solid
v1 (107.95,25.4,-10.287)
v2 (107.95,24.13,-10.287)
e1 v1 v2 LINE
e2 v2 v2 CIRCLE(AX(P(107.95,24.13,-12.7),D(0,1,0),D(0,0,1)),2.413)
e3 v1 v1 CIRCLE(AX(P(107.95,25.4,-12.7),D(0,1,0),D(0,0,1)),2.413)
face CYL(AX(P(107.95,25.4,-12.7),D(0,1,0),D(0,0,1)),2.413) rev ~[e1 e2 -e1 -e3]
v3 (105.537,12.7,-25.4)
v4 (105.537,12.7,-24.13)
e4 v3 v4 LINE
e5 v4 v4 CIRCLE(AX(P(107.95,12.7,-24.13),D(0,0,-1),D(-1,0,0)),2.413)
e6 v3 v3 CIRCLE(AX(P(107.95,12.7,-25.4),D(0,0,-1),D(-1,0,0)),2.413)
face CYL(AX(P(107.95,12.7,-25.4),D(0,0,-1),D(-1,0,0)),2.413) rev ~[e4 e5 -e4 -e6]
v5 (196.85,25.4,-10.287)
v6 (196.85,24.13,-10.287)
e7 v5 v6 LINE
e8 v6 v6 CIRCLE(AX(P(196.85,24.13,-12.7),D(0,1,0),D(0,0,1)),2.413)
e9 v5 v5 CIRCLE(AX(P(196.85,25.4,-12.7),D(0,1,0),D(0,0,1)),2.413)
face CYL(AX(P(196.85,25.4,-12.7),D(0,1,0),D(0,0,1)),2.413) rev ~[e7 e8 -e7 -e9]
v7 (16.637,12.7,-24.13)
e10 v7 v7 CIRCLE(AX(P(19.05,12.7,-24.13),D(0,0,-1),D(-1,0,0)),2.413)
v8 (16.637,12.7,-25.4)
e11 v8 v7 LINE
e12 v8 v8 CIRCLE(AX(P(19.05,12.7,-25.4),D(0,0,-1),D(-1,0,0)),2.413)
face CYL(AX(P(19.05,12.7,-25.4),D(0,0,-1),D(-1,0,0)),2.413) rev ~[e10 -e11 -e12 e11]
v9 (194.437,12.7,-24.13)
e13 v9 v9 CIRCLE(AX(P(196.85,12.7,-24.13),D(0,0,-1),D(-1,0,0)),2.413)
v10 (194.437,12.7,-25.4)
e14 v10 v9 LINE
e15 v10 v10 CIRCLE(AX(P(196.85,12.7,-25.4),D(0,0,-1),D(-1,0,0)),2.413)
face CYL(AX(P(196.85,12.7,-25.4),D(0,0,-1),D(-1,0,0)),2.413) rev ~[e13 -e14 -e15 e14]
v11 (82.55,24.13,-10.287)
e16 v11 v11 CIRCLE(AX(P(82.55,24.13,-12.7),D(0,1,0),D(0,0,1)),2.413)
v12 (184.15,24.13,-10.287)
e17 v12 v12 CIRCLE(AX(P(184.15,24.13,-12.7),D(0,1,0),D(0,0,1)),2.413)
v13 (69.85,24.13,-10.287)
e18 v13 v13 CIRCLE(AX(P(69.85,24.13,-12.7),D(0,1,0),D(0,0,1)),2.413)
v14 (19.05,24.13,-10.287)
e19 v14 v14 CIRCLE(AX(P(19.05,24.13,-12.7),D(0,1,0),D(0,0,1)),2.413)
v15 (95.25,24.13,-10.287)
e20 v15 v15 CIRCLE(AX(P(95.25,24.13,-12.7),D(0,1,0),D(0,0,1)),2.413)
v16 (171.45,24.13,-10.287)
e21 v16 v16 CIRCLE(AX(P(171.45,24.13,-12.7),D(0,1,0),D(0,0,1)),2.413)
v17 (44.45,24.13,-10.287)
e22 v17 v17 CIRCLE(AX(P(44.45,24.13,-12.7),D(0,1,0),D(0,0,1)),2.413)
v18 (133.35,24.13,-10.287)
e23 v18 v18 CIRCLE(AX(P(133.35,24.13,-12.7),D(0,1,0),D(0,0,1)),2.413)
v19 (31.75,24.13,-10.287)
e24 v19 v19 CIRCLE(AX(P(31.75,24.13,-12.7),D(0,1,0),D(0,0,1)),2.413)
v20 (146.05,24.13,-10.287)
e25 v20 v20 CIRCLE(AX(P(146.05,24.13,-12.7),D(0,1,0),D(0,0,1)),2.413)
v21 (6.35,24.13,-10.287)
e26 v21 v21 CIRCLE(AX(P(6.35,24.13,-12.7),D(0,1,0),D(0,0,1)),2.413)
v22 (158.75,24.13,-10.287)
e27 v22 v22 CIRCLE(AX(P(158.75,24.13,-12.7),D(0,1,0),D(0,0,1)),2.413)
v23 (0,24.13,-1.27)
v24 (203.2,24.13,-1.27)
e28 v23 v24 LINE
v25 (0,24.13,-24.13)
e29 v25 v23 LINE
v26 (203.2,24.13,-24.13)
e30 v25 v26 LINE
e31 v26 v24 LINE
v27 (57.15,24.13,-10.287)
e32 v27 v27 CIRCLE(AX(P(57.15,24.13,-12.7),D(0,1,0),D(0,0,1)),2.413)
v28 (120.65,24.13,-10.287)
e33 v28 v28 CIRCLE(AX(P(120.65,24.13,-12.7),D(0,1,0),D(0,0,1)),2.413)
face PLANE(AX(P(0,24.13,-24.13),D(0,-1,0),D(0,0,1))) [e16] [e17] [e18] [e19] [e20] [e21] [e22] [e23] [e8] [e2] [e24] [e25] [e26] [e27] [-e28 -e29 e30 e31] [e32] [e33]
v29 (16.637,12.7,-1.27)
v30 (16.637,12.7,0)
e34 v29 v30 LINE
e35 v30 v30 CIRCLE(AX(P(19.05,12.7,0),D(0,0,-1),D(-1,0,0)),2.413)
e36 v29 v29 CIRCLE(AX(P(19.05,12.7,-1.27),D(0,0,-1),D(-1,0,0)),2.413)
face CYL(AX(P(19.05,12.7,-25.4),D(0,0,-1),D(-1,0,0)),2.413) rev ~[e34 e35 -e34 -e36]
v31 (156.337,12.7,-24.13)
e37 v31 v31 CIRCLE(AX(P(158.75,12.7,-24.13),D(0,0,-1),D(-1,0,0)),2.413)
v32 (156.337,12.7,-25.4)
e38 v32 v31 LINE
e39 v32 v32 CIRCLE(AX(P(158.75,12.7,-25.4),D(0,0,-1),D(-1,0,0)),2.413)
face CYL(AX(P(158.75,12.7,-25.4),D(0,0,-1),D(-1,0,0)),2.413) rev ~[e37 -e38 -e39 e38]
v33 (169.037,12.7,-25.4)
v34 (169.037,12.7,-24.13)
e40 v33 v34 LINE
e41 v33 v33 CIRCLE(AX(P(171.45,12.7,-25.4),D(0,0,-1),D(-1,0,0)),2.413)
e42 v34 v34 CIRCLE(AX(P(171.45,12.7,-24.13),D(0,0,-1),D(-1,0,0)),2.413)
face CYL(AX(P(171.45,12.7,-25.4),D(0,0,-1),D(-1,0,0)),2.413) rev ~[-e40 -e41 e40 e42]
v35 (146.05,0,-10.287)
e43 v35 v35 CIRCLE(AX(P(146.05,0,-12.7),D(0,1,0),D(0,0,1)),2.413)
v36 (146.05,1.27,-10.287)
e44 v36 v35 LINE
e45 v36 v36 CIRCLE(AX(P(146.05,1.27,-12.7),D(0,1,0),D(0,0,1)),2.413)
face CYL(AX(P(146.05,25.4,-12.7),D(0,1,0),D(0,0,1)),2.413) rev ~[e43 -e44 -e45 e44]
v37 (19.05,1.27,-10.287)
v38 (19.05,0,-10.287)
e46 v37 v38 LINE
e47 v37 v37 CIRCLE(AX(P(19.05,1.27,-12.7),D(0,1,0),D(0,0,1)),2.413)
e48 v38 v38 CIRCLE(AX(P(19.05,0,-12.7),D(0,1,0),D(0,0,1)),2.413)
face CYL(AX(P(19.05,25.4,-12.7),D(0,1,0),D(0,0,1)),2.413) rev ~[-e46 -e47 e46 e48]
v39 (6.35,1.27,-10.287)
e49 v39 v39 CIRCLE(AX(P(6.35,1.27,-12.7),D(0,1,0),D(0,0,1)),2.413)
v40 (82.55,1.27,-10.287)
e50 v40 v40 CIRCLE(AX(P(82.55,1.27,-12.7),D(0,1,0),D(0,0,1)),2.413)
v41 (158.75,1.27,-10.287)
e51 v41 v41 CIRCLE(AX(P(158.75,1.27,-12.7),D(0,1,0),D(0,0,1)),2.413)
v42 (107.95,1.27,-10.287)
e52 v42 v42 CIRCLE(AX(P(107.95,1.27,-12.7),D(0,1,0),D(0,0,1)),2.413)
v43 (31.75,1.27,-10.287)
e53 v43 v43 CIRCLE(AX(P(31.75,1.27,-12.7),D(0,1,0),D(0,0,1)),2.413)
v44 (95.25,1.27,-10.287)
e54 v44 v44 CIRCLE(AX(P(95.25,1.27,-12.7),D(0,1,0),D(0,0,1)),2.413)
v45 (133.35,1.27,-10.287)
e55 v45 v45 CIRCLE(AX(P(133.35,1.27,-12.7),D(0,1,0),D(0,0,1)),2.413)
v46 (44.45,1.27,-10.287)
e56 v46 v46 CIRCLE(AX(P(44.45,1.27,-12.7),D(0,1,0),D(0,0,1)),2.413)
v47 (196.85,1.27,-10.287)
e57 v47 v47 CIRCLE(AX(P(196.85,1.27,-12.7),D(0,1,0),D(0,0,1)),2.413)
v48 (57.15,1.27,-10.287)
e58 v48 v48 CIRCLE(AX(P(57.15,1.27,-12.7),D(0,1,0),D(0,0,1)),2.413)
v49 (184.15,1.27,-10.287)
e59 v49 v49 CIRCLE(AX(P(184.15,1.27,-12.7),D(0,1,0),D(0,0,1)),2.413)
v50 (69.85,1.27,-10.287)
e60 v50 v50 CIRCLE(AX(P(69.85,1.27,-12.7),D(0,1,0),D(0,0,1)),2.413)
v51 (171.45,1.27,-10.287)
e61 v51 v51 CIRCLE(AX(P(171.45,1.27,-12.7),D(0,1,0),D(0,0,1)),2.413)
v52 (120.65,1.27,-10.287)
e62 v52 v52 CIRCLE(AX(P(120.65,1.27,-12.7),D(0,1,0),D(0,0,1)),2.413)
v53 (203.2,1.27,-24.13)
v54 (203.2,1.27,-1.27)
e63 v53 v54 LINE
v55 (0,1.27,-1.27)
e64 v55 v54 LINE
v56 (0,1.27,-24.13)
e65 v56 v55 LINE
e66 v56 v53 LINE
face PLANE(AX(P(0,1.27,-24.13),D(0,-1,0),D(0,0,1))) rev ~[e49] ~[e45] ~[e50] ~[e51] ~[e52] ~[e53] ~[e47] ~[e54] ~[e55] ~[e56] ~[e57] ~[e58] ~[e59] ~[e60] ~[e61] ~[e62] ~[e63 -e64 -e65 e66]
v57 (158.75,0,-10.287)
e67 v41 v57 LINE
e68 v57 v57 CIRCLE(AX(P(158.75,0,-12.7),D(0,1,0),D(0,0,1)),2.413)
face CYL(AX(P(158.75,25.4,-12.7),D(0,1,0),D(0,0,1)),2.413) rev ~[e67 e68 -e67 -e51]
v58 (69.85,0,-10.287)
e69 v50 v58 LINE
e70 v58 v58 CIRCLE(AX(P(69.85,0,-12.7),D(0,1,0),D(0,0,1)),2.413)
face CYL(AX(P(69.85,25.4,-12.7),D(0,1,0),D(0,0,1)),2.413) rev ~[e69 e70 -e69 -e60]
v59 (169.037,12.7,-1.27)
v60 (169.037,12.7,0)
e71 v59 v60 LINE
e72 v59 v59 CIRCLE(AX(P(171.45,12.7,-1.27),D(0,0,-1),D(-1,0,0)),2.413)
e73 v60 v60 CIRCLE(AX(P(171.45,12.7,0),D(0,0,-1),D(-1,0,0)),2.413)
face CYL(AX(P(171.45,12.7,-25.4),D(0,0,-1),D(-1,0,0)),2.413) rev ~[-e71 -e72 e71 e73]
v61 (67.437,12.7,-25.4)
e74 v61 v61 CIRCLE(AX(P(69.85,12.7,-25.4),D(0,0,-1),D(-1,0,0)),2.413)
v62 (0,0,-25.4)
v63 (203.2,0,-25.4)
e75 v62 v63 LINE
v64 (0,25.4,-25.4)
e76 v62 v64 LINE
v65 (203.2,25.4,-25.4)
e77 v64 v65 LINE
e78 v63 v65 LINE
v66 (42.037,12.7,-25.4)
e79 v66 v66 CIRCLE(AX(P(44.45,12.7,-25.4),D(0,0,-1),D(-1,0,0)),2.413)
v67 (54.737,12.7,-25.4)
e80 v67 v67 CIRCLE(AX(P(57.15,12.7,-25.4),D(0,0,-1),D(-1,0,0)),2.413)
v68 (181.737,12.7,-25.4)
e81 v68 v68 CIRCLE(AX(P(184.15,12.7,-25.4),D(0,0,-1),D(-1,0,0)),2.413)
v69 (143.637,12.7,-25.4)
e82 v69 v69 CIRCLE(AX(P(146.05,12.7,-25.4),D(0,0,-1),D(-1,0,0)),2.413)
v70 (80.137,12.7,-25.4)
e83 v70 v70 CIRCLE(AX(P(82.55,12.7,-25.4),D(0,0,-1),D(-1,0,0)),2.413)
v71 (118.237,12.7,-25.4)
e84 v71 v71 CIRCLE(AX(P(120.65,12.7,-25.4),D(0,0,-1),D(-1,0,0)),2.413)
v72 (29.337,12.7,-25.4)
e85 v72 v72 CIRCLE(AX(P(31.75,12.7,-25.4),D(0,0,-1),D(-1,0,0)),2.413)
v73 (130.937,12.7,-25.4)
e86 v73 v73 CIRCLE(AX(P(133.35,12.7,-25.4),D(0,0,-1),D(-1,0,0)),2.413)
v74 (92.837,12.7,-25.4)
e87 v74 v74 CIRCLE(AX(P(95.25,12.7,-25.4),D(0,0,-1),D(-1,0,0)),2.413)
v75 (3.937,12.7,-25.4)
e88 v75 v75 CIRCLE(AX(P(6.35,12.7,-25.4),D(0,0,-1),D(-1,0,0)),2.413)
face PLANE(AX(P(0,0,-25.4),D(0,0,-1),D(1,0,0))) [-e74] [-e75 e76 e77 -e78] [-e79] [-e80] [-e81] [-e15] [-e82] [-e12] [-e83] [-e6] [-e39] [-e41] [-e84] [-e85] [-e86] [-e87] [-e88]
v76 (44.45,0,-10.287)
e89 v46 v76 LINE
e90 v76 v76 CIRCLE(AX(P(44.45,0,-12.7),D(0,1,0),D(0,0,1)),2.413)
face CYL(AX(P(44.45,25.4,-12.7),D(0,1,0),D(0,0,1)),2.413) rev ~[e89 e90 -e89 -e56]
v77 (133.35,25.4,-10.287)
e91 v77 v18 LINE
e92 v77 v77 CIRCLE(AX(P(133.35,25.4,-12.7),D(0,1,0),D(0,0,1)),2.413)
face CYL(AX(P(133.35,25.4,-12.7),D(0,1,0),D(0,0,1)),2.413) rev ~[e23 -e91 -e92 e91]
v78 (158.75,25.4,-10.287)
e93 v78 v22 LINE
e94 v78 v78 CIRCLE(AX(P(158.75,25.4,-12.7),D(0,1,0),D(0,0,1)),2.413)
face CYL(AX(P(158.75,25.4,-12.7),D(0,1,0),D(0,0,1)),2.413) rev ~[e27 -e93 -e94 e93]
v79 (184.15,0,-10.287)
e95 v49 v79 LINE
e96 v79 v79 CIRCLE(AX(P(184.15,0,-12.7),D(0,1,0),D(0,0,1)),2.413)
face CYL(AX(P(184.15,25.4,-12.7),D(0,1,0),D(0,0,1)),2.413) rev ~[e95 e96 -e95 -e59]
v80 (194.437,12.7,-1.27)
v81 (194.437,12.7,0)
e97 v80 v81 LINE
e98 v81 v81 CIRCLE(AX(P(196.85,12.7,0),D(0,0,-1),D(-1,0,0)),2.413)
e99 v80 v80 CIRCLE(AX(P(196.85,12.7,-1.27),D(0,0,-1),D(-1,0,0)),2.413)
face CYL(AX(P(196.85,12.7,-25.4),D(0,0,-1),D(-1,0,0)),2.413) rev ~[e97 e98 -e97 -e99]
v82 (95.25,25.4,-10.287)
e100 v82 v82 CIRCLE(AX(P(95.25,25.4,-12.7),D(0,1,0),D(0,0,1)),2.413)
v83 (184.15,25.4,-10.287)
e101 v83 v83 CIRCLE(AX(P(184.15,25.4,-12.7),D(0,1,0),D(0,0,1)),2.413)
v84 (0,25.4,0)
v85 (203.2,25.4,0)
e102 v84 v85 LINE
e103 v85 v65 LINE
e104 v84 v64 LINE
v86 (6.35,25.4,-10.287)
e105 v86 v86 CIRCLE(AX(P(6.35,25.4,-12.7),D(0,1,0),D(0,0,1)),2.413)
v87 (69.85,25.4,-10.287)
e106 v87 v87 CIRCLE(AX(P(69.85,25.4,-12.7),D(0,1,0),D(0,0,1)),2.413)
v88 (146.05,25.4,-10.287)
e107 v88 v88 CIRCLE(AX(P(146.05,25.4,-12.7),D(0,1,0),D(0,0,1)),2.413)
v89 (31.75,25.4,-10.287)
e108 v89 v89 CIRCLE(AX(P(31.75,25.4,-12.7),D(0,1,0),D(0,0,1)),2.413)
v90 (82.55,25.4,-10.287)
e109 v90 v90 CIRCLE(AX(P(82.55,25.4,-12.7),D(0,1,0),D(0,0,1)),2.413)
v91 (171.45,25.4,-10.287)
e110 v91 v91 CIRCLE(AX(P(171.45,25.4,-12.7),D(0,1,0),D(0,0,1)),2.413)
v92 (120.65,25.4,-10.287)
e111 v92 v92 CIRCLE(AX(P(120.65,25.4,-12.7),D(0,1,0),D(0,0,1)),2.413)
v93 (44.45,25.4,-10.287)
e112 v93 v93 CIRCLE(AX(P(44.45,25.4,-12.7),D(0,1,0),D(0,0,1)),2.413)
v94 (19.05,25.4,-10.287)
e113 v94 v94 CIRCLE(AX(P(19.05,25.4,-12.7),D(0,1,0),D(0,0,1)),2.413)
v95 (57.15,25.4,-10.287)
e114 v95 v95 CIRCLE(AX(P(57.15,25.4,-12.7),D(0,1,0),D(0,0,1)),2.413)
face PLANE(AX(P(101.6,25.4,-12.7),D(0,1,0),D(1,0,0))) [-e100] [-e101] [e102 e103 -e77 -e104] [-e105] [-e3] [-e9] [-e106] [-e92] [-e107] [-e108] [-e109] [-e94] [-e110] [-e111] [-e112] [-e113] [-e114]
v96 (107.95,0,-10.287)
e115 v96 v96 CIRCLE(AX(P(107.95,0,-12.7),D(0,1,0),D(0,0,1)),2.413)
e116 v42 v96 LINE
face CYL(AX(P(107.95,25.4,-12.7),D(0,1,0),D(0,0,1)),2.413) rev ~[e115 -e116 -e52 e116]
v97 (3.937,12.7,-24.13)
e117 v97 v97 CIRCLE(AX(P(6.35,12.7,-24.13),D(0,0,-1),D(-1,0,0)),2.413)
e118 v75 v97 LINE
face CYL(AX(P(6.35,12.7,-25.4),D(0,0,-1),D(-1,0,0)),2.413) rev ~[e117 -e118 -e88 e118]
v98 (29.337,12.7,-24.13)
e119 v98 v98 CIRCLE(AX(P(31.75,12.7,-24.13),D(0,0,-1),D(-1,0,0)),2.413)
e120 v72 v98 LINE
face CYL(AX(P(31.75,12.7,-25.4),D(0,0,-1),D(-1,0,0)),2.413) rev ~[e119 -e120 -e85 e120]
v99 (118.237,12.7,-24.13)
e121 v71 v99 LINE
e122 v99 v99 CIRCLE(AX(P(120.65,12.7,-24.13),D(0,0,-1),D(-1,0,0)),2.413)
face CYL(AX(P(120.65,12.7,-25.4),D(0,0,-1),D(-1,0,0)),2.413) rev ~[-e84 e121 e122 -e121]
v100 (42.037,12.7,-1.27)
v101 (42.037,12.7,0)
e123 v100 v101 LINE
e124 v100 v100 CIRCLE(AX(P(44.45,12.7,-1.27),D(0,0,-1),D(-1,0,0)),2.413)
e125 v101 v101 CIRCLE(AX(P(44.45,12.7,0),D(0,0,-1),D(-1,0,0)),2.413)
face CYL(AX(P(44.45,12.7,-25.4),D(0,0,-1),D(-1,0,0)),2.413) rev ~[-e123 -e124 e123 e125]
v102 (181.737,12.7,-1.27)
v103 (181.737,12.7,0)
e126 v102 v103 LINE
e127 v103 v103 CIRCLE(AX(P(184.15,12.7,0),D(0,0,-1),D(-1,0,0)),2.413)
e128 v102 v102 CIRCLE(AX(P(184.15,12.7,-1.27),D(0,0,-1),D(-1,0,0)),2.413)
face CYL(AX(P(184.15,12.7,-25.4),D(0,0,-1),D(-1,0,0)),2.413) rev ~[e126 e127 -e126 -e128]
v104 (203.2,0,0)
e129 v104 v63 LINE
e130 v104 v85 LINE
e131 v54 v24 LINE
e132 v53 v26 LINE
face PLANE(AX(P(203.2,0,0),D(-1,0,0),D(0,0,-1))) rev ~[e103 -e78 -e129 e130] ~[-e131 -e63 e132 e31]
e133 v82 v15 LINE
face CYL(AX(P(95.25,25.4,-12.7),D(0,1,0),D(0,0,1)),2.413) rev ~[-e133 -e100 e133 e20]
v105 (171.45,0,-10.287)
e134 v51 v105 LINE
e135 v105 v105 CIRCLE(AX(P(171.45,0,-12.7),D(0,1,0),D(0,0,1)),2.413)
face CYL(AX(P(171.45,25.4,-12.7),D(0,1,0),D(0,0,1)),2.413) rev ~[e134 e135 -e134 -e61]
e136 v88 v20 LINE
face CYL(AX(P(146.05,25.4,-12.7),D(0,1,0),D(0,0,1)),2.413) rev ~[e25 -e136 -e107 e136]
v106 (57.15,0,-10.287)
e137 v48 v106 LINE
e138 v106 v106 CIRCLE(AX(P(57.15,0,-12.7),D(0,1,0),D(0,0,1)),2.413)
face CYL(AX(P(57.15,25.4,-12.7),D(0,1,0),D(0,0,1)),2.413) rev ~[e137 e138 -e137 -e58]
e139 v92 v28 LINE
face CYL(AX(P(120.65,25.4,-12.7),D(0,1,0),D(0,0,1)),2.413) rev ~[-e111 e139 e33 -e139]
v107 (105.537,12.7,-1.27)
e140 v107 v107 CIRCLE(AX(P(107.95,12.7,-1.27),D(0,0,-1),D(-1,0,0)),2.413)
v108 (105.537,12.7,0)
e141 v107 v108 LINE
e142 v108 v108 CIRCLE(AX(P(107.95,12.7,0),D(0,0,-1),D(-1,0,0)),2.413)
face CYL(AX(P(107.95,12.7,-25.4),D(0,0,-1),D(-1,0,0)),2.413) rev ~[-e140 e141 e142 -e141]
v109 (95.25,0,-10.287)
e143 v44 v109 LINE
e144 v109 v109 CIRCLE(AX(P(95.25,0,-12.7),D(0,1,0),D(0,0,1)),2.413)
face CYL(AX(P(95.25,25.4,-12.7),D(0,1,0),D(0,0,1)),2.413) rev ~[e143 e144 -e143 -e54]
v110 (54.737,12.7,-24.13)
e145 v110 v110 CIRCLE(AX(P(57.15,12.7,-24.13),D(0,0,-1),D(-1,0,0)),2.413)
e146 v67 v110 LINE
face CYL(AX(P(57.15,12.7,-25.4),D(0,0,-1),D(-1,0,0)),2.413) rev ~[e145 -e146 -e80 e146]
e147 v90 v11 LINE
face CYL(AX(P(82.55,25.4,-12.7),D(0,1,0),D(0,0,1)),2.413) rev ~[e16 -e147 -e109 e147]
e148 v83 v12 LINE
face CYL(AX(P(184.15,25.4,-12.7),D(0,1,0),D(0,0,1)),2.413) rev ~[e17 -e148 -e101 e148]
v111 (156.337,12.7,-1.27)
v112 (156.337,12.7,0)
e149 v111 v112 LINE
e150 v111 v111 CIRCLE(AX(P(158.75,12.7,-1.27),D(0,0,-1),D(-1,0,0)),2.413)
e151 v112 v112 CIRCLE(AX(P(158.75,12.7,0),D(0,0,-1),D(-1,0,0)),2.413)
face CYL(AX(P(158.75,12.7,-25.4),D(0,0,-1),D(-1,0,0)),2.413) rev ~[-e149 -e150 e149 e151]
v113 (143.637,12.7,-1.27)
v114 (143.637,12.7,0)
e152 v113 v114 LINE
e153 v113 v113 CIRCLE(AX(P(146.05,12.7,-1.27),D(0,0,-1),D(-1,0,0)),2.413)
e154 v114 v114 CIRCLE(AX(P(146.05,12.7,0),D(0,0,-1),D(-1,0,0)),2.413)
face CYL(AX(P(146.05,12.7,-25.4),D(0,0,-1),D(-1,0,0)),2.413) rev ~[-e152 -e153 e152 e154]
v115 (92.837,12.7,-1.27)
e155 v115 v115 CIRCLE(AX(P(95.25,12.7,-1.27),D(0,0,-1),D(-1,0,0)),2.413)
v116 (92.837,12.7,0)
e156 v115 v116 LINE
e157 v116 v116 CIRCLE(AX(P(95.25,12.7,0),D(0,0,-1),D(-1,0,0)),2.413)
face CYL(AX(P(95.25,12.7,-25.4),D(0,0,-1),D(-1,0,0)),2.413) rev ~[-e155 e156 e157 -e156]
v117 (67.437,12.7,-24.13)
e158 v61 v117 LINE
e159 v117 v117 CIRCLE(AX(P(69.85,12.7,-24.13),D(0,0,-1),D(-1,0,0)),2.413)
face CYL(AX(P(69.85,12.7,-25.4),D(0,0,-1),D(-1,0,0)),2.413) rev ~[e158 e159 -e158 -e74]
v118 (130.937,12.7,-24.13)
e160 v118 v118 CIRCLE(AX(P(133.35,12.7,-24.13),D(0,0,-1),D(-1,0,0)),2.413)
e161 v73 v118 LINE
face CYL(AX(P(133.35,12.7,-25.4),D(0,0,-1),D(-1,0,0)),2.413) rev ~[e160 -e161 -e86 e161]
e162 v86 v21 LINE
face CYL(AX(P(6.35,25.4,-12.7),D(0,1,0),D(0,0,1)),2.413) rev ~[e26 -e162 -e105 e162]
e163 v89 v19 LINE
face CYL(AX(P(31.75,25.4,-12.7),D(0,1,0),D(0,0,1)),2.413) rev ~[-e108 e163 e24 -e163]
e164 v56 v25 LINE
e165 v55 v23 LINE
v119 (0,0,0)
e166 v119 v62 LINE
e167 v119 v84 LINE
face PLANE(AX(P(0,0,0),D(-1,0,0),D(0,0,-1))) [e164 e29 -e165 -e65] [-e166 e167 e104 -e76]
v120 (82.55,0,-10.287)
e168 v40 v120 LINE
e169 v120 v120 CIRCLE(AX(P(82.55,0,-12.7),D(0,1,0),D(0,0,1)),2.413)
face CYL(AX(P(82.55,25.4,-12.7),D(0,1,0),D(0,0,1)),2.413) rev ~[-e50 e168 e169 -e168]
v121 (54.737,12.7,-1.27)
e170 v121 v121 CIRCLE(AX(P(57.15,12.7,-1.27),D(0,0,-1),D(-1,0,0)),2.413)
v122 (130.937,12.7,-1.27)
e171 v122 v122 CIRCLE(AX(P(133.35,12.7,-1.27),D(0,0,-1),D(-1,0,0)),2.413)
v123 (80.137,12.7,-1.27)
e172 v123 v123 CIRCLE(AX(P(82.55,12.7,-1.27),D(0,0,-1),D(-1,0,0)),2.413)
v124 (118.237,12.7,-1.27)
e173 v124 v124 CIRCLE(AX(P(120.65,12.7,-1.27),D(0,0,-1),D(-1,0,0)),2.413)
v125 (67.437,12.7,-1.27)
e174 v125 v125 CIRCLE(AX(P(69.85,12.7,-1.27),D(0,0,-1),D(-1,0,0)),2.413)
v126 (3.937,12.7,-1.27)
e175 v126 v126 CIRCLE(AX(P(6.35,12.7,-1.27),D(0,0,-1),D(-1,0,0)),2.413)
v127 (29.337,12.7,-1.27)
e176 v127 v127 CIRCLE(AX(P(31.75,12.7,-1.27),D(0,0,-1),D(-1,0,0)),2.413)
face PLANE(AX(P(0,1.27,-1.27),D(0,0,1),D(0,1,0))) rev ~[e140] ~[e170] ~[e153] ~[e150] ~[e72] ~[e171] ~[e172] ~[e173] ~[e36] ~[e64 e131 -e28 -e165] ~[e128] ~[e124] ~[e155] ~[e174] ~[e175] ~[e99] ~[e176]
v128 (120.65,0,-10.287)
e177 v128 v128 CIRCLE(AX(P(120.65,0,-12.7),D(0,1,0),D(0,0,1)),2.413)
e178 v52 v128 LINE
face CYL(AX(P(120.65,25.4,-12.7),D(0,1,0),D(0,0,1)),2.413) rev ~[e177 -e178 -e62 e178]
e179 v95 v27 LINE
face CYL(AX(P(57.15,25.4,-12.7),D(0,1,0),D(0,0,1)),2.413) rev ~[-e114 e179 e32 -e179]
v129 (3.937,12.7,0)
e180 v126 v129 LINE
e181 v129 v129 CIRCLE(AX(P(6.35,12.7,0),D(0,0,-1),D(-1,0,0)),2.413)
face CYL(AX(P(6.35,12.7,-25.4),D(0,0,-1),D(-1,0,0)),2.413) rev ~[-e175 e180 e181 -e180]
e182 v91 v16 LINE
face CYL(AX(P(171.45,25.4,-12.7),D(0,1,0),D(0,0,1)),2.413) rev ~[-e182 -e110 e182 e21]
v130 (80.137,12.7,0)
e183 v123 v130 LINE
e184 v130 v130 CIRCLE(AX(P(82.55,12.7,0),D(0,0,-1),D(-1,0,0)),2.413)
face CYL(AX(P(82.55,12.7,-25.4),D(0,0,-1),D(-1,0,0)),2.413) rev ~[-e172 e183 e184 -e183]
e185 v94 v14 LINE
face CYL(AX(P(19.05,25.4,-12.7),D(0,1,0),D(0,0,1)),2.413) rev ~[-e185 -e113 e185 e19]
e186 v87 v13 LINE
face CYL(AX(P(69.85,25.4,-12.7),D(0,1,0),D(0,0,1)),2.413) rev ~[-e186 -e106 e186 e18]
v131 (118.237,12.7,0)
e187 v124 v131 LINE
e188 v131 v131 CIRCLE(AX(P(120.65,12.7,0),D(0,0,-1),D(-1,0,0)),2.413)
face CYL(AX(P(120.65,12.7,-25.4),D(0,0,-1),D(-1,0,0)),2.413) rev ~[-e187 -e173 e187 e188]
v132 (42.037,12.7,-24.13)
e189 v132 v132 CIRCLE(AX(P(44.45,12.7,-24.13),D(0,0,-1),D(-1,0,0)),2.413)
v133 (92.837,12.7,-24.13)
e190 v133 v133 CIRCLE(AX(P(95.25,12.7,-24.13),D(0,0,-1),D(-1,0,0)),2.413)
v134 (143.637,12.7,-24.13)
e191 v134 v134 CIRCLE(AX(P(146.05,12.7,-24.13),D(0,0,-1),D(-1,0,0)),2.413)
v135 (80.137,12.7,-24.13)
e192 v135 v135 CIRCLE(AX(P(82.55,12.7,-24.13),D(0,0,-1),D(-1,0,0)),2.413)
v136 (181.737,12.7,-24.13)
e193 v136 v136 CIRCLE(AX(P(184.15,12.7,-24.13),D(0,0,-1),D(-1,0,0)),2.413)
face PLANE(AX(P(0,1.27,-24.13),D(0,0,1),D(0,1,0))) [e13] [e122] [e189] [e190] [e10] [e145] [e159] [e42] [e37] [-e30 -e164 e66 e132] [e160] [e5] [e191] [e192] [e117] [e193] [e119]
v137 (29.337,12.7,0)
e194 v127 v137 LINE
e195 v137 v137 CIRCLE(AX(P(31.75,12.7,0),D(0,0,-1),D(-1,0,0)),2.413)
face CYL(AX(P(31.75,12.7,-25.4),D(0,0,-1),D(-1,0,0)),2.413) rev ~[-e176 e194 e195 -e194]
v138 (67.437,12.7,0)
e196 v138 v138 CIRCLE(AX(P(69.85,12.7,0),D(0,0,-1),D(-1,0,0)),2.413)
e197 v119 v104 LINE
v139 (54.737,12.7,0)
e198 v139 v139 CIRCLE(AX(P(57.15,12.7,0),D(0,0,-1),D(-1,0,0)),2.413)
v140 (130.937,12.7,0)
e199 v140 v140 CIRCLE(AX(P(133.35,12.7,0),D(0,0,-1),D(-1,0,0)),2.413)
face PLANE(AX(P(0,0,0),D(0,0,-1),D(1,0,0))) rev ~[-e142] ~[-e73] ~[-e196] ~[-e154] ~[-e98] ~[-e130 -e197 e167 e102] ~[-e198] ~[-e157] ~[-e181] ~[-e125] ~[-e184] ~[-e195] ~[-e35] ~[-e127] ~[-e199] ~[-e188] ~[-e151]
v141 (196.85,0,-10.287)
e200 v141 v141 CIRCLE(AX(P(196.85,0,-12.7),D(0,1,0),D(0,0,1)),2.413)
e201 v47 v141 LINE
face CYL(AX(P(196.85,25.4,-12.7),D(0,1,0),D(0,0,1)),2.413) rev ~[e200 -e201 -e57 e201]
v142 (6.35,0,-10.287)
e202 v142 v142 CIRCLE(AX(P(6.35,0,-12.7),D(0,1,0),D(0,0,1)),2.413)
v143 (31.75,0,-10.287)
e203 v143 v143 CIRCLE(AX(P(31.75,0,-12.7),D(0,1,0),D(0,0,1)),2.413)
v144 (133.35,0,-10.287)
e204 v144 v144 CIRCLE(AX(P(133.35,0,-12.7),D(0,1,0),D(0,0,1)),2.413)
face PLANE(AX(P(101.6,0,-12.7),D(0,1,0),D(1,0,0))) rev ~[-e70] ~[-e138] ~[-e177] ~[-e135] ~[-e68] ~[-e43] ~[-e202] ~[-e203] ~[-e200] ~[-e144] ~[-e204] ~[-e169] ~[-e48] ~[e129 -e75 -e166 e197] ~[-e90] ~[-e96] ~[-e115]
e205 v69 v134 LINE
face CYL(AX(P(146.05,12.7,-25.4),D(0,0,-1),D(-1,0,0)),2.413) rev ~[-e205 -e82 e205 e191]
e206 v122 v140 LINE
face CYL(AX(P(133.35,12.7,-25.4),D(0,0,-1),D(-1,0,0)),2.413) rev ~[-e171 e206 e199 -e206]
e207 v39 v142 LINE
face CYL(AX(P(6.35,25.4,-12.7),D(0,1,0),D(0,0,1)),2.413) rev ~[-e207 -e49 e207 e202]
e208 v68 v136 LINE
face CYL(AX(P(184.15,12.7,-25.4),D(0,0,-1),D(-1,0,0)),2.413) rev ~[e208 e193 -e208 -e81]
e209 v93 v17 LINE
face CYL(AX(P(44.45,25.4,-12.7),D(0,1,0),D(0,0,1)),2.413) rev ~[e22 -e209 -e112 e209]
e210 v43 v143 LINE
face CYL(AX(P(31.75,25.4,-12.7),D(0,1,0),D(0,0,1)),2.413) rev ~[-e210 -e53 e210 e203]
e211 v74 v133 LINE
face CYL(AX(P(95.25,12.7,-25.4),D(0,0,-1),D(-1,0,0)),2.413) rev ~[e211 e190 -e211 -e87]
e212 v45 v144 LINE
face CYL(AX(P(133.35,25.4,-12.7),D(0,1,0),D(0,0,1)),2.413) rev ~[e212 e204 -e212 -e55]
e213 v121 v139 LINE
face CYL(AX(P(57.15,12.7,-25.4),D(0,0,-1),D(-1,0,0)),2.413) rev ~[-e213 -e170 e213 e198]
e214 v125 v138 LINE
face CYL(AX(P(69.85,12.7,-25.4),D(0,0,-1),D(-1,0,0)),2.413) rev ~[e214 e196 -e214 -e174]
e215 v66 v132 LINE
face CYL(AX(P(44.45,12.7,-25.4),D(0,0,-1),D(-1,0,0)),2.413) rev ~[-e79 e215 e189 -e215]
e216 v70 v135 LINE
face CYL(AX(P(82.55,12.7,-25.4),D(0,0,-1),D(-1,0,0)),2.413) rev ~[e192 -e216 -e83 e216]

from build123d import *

# Parameters (mm, degrees)
SKETCH1_W           = 203.2
SKETCH1_H           = 25.4
BOSS_EXTRUDE1_DEPTH = 25.4
SKETCH2_W           = 22.86
SKETCH2_H           = 22.86
CUT_EXTRUDE1_DEPTH  = 207.350575478
SKETCH3_R           = 2.413
CUT_EXTRUDE2_DEPTH  = 207.350575478
SKETCH4_R           = 2.413
CUT_EXTRUDE3_DEPTH  = 207.350575478


with BuildPart() as part:
    # Sketch1 → Boss-Extrude1 (new body)
    with BuildSketch(Plane(origin=(0, 0, 0), x_dir=(1, 0, 0), z_dir=(0, 1, 0))):
        with Locations((101.6, 12.7)):
            Rectangle(SKETCH1_W, SKETCH1_H)
    extrude(amount=BOSS_EXTRUDE1_DEPTH)

    # Sketch2 → Cut-Extrude1 (cut, through all)
    with BuildSketch(Plane.ZY):
        with Locations((-12.7, 12.7)):
            Rectangle(SKETCH2_W, SKETCH2_H)
    extrude(amount=-CUT_EXTRUDE1_DEPTH, mode=Mode.SUBTRACT)

    # Sketch3 → Cut-Extrude2 (cut, through all)
    with BuildSketch(Plane(origin=(0, 25.4, 0), x_dir=(1, 0, 0), z_dir=(0, 1, 0))):
        with Locations(Location((6.35, 12.7, 0), (0, 0, 270))):
            Circle(SKETCH3_R)
        with Locations(Location((19.05, 12.7, 0), (0, 0, 270))):
            Circle(SKETCH3_R)
        with Locations(Location((31.75, 12.7, 0), (0, 0, 270))):
            Circle(SKETCH3_R)
        with Locations(Location((44.45, 12.7, 0), (0, 0, 270))):
            Circle(SKETCH3_R)
        with Locations(Location((57.15, 12.7, 0), (0, 0, 270))):
            Circle(SKETCH3_R)
        with Locations(Location((69.85, 12.7, 0), (0, 0, 270))):
            Circle(SKETCH3_R)
        with Locations(Location((82.55, 12.7, 0), (0, 0, 270))):
            Circle(SKETCH3_R)
        with Locations(Location((95.25, 12.7, 0), (0, 0, 270))):
            Circle(SKETCH3_R)
        with Locations(Location((107.95, 12.7, 0), (0, 0, 270))):
            Circle(SKETCH3_R)
        with Locations(Location((120.65, 12.7, 0), (0, 0, 270))):
            Circle(SKETCH3_R)
        with Locations(Location((133.35, 12.7, 0), (0, 0, 270))):
            Circle(SKETCH3_R)
        with Locations(Location((146.05, 12.7, 0), (0, 0, 270))):
            Circle(SKETCH3_R)
        with Locations(Location((158.75, 12.7, 0), (0, 0, 270))):
            Circle(SKETCH3_R)
        with Locations(Location((171.45, 12.7, 0), (0, 0, 270))):
            Circle(SKETCH3_R)
        with Locations(Location((184.15, 12.7, 0), (0, 0, 270))):
            Circle(SKETCH3_R)
        with Locations(Location((196.85, 12.7, 0), (0, 0, 270))):
            Circle(SKETCH3_R)
    extrude(amount=-CUT_EXTRUDE2_DEPTH, mode=Mode.SUBTRACT)

    # Sketch4 → Cut-Extrude3 (cut, through all)
    with BuildSketch(Plane(origin=(0, 0, -25.4), x_dir=(-1, 0, 0), z_dir=(0, 0, -1))):
        with Locations((-6.35, 12.7)):
            Circle(SKETCH4_R)
        with Locations((-19.05, 12.7)):
            Circle(SKETCH4_R)
        with Locations((-31.75, 12.7)):
            Circle(SKETCH4_R)
        with Locations((-44.45, 12.7)):
            Circle(SKETCH4_R)
        with Locations((-57.15, 12.7)):
            Circle(SKETCH4_R)
        with Locations((-69.85, 12.7)):
            Circle(SKETCH4_R)
        with Locations((-82.55, 12.7)):
            Circle(SKETCH4_R)
        with Locations((-95.25, 12.7)):
            Circle(SKETCH4_R)
        with Locations((-107.95, 12.7)):
            Circle(SKETCH4_R)
        with Locations((-120.65, 12.7)):
            Circle(SKETCH4_R)
        with Locations((-133.35, 12.7)):
            Circle(SKETCH4_R)
        with Locations((-146.05, 12.7)):
            Circle(SKETCH4_R)
        with Locations((-158.75, 12.7)):
            Circle(SKETCH4_R)
        with Locations((-171.45, 12.7)):
            Circle(SKETCH4_R)
        with Locations((-184.15, 12.7)):
            Circle(SKETCH4_R)
        with Locations((-196.85, 12.7)):
            Circle(SKETCH4_R)
    extrude(amount=-CUT_EXTRUDE3_DEPTH, mode=Mode.SUBTRACT)


solid = part.part
